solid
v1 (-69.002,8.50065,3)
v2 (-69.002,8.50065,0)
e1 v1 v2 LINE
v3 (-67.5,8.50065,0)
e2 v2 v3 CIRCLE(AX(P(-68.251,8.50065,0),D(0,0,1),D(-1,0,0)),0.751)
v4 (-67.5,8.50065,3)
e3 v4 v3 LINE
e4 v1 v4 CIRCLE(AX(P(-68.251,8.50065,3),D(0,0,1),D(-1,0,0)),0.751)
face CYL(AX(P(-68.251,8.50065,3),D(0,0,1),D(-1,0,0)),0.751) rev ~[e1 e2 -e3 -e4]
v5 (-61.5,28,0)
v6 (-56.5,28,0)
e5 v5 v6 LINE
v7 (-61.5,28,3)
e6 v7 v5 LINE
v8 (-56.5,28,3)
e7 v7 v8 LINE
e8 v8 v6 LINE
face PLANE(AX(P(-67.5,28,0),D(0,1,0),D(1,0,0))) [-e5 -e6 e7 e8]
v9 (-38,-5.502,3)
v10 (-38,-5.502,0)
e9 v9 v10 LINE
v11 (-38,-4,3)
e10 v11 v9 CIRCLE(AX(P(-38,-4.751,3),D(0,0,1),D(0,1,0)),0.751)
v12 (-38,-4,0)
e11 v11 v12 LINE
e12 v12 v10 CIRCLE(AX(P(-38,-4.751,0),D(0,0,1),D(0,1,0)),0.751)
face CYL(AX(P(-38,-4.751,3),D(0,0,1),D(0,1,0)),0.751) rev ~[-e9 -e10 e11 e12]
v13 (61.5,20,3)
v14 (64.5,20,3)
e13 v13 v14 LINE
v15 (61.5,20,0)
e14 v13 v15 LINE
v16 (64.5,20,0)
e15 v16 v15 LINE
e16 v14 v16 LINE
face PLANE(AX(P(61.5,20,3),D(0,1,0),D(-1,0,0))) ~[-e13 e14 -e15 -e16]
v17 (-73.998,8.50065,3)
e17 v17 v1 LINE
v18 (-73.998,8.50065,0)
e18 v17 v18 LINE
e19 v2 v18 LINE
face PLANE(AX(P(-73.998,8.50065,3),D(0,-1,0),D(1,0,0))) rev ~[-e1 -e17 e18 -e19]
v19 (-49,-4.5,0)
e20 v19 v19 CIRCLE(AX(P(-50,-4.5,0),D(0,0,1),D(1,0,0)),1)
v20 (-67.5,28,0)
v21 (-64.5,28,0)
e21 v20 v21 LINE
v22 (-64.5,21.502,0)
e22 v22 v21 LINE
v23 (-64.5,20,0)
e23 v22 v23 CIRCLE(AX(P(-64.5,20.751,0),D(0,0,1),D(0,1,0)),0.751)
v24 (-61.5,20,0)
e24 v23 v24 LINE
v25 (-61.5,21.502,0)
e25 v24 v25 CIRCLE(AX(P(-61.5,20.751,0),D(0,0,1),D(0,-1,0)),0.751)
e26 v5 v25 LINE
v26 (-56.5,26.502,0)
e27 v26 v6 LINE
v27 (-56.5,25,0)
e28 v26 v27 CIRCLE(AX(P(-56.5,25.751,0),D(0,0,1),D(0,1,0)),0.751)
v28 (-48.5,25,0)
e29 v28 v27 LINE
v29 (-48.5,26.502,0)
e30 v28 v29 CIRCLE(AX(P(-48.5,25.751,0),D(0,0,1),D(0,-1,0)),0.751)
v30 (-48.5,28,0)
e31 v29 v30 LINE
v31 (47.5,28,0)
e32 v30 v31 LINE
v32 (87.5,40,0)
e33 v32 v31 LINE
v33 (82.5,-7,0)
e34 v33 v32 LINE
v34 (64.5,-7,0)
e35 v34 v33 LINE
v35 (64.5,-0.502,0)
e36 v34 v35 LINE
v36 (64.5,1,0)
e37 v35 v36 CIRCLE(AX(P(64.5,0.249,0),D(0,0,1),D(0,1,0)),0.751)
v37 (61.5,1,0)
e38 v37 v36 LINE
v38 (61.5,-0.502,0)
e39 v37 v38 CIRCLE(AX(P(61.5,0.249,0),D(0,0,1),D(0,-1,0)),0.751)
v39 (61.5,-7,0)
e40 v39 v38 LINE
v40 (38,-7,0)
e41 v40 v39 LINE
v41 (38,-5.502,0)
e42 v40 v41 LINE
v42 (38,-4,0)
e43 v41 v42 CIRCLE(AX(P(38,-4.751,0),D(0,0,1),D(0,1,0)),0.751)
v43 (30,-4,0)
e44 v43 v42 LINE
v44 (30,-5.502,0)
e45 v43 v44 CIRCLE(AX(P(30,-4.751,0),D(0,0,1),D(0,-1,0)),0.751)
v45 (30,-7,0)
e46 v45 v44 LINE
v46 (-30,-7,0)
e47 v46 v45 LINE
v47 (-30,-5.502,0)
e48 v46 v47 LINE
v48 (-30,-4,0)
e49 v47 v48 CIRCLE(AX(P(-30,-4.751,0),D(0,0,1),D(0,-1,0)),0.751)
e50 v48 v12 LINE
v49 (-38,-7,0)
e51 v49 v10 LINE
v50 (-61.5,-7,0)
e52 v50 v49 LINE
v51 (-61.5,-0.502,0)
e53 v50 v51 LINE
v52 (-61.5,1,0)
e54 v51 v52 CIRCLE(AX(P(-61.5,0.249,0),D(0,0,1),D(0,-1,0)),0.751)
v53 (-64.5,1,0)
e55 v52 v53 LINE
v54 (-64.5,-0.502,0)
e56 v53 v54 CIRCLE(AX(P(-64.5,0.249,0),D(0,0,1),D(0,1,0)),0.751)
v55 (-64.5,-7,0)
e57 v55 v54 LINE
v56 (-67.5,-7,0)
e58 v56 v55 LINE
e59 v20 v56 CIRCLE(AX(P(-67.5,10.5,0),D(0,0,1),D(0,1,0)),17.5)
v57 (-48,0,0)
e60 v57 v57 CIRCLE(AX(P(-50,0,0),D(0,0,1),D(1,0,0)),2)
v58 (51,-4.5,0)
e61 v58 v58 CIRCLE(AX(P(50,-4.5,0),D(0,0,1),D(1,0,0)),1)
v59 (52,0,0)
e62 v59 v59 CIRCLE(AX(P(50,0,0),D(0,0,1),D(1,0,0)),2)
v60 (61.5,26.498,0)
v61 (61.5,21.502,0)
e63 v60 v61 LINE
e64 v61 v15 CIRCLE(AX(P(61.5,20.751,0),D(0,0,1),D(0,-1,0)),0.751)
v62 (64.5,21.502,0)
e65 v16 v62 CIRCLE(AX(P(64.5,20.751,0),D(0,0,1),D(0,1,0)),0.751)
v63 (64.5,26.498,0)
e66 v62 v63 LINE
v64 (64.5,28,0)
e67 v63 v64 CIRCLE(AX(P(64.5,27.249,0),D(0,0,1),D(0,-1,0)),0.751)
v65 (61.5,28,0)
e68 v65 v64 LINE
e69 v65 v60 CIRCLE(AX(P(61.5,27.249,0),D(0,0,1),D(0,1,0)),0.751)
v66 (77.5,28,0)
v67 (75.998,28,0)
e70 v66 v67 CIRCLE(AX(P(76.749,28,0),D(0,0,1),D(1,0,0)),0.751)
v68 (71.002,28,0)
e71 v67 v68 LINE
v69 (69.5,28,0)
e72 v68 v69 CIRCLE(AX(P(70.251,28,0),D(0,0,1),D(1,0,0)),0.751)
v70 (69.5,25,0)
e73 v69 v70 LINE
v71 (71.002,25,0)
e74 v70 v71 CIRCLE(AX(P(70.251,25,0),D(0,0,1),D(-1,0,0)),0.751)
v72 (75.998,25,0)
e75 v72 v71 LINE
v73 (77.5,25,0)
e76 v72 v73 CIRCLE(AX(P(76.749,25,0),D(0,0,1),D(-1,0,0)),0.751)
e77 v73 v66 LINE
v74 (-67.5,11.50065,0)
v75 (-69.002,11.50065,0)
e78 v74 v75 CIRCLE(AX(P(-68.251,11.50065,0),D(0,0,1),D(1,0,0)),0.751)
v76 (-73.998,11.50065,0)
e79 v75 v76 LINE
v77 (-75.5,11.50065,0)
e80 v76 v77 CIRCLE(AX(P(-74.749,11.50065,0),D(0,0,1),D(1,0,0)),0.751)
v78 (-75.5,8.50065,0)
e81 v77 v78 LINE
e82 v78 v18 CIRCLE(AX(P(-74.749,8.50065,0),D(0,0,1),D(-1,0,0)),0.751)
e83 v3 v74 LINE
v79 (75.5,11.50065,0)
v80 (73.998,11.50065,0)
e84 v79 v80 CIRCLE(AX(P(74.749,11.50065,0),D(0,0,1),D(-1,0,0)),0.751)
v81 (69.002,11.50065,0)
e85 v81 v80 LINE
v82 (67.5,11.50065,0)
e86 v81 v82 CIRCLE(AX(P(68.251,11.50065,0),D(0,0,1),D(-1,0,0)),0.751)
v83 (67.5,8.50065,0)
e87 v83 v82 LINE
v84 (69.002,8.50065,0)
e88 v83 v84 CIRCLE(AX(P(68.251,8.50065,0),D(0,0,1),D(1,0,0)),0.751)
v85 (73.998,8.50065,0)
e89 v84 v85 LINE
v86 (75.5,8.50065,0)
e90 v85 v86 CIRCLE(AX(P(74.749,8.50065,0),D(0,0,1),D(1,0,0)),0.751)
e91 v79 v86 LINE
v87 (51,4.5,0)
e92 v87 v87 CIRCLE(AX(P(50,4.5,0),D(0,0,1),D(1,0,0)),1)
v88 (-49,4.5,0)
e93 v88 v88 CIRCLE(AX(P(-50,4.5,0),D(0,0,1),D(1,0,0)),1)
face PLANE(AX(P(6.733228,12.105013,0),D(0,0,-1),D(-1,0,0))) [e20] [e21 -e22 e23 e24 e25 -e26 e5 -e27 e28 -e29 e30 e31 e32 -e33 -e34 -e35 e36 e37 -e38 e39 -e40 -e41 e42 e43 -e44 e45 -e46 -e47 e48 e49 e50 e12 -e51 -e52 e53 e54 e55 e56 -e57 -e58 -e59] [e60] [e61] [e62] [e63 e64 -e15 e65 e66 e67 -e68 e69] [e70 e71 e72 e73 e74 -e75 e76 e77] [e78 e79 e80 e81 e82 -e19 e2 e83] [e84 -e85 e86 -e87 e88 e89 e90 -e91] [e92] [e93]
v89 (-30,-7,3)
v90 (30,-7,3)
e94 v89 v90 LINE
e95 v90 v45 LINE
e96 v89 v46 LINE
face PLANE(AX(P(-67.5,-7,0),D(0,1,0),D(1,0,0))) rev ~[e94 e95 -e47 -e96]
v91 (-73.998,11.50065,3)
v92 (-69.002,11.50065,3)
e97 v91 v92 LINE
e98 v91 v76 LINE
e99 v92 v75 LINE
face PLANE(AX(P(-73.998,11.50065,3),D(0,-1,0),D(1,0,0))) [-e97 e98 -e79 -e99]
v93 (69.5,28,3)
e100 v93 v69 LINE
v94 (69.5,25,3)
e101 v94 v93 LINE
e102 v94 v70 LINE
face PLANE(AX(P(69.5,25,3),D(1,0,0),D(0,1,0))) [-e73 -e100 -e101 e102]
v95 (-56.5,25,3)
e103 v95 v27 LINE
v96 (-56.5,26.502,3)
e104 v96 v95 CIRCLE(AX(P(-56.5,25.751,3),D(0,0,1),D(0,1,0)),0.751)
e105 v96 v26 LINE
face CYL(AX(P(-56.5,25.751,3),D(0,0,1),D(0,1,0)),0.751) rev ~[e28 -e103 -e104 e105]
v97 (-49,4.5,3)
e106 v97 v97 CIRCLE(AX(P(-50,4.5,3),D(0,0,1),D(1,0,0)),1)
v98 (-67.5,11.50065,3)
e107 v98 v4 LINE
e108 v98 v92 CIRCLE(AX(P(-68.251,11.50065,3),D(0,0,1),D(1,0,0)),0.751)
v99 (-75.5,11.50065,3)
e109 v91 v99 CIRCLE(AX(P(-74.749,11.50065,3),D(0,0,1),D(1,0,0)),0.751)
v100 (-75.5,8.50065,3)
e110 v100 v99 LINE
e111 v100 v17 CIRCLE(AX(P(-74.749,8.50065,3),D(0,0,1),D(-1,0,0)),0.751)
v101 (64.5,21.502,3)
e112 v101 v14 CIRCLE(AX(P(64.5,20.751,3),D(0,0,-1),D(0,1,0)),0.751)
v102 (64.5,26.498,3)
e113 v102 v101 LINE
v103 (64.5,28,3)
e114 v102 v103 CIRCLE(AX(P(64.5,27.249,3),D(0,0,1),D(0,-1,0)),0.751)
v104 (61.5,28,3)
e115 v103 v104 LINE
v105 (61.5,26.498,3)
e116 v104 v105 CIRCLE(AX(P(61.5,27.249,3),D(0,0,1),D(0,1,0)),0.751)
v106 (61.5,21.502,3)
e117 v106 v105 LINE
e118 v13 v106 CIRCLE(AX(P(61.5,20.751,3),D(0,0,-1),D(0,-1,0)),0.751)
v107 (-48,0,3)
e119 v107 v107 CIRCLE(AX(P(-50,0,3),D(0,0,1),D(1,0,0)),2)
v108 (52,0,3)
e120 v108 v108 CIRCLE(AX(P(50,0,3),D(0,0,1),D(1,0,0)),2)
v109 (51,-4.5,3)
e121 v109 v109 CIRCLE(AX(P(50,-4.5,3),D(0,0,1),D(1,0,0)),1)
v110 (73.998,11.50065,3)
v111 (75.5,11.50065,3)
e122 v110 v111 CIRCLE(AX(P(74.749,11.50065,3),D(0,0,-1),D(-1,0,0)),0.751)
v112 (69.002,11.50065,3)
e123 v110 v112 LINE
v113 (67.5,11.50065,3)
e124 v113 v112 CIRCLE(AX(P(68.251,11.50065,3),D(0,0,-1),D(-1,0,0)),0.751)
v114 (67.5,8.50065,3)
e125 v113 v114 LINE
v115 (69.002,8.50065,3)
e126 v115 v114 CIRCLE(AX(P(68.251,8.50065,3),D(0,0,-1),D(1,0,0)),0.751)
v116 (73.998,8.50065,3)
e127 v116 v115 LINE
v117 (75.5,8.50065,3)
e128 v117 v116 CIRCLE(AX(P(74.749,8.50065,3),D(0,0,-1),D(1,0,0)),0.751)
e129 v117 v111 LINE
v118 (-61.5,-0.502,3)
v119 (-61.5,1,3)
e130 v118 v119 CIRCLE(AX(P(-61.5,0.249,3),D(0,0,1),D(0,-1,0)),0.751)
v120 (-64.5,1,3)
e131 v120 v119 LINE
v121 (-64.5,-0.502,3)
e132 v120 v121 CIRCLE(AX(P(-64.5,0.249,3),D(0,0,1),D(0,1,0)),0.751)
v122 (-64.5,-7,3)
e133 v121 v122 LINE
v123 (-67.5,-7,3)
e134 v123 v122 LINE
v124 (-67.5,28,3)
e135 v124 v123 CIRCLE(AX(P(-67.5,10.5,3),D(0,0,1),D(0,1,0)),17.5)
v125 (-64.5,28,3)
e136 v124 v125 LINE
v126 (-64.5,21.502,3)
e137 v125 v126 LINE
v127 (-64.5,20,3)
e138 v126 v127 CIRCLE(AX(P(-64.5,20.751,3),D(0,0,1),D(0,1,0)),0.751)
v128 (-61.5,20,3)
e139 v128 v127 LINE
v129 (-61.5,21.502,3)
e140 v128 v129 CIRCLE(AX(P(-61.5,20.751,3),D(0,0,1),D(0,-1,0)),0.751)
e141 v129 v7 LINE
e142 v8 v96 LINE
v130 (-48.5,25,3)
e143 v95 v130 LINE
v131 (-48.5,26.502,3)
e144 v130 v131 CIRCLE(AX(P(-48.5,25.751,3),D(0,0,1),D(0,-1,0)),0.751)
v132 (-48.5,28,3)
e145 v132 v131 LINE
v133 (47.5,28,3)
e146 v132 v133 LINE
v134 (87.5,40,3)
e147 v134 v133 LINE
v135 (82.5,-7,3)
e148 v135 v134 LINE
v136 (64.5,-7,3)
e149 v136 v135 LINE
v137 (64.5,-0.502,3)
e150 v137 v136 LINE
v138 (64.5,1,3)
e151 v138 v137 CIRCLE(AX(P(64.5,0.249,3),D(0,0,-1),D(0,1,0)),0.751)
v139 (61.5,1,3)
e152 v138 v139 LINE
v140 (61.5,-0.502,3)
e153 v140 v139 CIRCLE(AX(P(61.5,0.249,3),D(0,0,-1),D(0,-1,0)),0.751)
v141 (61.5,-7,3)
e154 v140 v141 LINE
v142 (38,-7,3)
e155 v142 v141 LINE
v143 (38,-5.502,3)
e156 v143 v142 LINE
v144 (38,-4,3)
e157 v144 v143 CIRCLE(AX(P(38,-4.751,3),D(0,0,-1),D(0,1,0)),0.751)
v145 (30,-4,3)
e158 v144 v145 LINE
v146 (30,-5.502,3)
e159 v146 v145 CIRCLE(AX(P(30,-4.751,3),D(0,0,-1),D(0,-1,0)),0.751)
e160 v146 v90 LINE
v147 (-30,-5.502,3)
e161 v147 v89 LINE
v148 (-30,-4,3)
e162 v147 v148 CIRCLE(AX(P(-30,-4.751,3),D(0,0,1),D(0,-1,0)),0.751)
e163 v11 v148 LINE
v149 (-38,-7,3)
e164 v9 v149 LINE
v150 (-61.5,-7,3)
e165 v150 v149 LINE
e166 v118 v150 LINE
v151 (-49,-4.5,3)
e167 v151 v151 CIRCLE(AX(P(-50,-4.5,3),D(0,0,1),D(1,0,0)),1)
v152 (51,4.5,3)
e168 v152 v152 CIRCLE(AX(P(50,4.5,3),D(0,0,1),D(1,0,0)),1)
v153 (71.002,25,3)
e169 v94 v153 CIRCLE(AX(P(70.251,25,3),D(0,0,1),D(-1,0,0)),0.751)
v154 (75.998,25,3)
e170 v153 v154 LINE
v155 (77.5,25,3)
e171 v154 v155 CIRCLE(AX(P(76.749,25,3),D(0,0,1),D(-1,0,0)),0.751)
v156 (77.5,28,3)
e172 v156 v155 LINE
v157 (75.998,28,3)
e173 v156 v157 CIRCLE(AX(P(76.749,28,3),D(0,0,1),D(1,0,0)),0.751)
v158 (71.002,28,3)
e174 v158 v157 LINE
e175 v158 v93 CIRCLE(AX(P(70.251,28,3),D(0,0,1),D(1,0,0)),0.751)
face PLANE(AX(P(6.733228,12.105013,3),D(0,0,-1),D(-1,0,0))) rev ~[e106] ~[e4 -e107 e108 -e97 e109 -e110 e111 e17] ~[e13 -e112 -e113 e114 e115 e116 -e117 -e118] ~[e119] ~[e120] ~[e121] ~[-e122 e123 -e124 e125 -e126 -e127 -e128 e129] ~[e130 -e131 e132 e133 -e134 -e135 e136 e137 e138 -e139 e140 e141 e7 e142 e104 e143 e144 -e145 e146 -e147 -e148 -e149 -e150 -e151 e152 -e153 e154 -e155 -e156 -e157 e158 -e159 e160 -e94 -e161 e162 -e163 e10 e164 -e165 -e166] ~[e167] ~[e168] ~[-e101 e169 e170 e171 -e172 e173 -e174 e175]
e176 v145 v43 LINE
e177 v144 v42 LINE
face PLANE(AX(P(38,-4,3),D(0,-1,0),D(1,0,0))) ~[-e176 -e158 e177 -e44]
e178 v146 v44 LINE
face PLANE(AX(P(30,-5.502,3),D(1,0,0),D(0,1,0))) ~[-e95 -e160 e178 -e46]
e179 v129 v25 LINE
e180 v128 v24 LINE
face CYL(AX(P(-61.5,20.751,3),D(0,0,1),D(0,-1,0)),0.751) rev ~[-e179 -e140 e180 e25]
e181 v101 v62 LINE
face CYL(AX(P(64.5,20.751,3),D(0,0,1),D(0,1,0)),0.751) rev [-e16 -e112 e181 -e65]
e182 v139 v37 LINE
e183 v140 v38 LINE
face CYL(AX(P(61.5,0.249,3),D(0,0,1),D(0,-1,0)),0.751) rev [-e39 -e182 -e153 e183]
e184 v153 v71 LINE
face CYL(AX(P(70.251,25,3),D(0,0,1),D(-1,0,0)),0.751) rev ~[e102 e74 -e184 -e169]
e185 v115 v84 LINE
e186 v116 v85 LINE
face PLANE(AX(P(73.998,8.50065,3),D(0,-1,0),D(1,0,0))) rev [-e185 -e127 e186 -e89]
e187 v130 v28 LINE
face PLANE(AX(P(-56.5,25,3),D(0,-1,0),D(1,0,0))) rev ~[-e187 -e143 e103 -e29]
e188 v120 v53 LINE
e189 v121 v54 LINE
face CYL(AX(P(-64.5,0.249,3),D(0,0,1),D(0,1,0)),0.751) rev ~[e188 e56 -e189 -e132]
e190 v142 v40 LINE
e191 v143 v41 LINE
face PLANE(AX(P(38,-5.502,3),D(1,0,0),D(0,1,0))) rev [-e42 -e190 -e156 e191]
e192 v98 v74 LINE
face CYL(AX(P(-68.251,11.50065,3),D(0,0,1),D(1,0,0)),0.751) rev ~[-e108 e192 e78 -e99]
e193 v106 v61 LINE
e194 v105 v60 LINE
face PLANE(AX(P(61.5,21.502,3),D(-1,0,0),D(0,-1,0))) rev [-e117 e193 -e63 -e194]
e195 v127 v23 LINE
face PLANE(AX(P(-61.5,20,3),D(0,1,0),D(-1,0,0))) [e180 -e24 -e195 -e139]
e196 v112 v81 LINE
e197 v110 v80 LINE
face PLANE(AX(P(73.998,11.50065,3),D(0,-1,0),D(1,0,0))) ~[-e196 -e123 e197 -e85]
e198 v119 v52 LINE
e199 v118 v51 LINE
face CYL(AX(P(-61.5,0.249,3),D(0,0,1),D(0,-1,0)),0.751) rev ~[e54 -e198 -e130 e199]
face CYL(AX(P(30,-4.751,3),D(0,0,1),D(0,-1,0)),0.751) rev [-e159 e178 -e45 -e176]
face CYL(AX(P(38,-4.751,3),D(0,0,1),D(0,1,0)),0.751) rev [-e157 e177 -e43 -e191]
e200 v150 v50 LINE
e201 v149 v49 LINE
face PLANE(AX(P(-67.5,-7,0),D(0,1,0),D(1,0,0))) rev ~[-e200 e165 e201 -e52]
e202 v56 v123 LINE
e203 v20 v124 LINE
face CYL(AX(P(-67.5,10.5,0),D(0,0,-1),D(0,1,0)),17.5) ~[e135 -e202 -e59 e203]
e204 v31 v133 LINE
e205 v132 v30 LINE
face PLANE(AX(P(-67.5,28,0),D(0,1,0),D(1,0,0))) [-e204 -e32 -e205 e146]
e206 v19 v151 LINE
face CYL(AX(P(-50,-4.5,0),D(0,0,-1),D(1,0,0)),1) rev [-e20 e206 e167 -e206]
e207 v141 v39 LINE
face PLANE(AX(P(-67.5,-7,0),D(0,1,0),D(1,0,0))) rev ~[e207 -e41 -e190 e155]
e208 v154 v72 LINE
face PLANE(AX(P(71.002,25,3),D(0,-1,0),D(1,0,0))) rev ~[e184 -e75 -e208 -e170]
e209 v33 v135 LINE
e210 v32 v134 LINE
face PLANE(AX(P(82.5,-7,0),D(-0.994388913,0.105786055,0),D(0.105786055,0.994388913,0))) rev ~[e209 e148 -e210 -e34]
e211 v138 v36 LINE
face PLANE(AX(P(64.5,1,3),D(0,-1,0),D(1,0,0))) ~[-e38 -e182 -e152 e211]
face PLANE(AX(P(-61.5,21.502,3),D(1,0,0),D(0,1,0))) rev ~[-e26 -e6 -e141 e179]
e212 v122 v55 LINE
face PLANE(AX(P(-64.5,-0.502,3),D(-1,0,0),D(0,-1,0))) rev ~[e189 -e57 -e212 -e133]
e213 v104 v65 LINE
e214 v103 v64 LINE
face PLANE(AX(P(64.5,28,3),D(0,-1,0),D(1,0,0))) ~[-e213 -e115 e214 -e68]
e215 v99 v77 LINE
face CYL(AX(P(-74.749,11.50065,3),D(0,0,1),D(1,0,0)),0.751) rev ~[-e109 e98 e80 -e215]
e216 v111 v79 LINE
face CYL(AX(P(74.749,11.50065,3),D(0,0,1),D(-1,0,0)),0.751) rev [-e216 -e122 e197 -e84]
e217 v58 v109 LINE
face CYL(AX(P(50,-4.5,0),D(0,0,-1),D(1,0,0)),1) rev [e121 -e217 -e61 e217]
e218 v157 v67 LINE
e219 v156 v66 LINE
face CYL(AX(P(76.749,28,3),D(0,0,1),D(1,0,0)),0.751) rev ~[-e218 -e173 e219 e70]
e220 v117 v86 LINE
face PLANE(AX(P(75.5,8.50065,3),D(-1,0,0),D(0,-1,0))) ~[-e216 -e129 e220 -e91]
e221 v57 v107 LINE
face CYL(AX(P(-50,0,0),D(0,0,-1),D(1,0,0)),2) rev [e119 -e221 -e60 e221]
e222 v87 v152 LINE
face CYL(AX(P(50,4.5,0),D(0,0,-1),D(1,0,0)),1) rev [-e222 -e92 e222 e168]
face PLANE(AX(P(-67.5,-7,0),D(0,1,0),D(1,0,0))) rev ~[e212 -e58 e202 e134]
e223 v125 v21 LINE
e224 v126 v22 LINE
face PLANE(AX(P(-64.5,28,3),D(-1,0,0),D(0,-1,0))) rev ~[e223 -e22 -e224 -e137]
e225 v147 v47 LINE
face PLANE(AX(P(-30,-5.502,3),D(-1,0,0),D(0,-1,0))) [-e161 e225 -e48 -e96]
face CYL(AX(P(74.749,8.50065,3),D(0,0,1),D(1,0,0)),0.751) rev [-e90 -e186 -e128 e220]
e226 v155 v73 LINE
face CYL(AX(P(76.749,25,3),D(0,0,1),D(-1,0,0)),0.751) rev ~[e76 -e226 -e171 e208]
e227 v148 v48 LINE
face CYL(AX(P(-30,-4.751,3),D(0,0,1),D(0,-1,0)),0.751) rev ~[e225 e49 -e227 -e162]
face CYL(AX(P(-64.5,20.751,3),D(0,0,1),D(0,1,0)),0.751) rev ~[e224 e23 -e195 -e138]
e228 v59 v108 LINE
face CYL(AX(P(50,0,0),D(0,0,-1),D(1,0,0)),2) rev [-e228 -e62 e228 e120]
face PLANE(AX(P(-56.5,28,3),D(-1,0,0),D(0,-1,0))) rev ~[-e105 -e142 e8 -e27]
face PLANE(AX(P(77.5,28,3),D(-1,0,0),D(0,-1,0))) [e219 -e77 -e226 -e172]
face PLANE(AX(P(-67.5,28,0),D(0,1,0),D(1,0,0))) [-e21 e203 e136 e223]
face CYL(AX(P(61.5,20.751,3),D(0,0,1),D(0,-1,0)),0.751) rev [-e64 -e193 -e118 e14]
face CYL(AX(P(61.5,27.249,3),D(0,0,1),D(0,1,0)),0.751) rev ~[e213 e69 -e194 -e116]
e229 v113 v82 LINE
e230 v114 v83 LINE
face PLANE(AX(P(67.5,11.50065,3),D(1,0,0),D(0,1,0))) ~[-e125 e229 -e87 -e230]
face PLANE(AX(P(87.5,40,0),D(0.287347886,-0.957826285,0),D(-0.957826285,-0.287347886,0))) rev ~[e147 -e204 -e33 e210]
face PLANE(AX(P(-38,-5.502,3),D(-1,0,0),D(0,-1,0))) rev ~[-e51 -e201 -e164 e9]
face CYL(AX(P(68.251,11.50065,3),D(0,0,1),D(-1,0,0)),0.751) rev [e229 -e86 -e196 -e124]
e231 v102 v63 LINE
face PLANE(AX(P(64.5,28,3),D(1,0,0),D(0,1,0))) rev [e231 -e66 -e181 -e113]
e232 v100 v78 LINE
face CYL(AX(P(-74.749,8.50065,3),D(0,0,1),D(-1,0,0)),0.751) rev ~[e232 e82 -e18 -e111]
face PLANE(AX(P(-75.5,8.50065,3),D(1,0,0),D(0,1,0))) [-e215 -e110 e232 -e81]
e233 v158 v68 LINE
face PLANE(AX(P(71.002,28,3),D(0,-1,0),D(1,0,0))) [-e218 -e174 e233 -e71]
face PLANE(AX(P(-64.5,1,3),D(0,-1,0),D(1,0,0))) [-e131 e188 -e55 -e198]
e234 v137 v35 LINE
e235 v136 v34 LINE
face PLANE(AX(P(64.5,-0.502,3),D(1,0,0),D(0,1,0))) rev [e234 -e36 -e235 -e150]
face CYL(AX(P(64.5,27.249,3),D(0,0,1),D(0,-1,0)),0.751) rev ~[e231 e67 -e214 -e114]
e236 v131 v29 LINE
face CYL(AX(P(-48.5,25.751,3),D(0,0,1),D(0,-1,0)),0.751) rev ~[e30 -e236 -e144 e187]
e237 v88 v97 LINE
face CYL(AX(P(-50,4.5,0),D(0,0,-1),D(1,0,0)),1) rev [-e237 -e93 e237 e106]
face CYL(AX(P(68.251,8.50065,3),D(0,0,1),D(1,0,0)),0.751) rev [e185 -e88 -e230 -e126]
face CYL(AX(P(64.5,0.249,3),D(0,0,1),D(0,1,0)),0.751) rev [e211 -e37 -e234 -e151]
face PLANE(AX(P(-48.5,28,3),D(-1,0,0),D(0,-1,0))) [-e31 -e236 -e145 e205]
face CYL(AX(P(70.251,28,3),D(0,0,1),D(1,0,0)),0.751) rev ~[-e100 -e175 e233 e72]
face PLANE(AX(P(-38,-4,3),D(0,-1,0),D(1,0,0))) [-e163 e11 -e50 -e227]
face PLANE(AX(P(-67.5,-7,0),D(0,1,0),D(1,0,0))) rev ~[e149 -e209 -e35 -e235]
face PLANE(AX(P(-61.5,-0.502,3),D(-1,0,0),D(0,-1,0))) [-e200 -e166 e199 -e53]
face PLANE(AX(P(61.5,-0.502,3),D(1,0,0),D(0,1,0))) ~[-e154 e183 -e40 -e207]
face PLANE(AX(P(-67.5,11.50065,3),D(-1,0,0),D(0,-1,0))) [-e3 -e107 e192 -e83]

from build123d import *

# Parameters (mm, degrees)
SKETCH_R        = 1
SKETCH_R_2      = 2
PAD_DEPTH       = 3
POCKET_DEPTH    = 360.627901
POCKET001_DEPTH = 3.001
POCKET002_DEPTH = 360.627901
POCKET005_DEPTH = 3.001


with BuildPart() as part:
    # Sketch → Pad (new body)
    with BuildSketch(Plane.XY):
        with BuildLine():
            Line((-67.5, 28), (47.5, 28))
            Line((87.5, 40), (47.5, 28))
            Line((82.5, -7), (87.5, 40))
            Line((67.5, -7), (82.5, -7))
            Line((67.5, -7), (-67.5, -7))
            ThreePointArc((-67.5, 28), (-85, 10.5), (-67.5, -7))
        make_face()
        with Locations((-50, 4.5)):
            Circle(SKETCH_R, mode=Mode.SUBTRACT)
        with Locations((-50, -4.5)):
            Circle(SKETCH_R, mode=Mode.SUBTRACT)
        with Locations((-50, 0)):
            Circle(SKETCH_R_2, mode=Mode.SUBTRACT)
        with Locations((50, 0)):
            Circle(SKETCH_R_2, mode=Mode.SUBTRACT)
        with Locations((50, 4.5)):
            Circle(SKETCH_R, mode=Mode.SUBTRACT)
        with Locations((50, -4.5)):
            Circle(SKETCH_R, mode=Mode.SUBTRACT)
    extrude(amount=PAD_DEPTH)

    # Sketch001 → Pocket (cut, through all)
    with BuildSketch(Plane.XY.offset(3)):
        with BuildLine():
            Line((-67.5, 11.50065), (-67.5, 8.50065))
            ThreePointArc((-69.002, 8.50065), (-68.251, 7.74965), (-67.5, 8.50065))
            Line((-73.998, 8.50065), (-69.002, 8.50065))
            ThreePointArc((-75.5, 8.50065), (-74.749, 7.74965), (-73.998, 8.50065))
            Line((-75.5, 8.50065), (-75.5, 11.50065))
            ThreePointArc((-73.998, 11.50065), (-74.749, 12.25165), (-75.5, 11.50065))
            Line((-73.998, 11.50065), (-69.002, 11.50065))
            ThreePointArc((-67.5, 11.50065), (-68.251, 12.25165), (-69.002, 11.50065))
        make_face()
        with BuildLine():
            Line((-64.5, 1), (-61.5, 1))
            ThreePointArc((-61.5, -0.502), (-60.749, 0.249), (-61.5, 1))
            Line((-61.5, -0.502), (-61.5, -7))
            Line((-61.5, -7), (-64.5, -7))
            Line((-64.5, -0.502), (-64.5, -7))
            ThreePointArc((-64.5, 1), (-65.251, 0.249), (-64.5, -0.502))
        make_face()
        with BuildLine():
            Line((-64.5, 28), (-61.5, 28))
            Line((-61.5, 21.502), (-61.5, 28))
            ThreePointArc((-61.5, 20), (-60.749, 20.751), (-61.5, 21.502))
            Line((-61.5, 20), (-64.5, 20))
            ThreePointArc((-64.5, 21.502), (-65.251, 20.751), (-64.5, 20))
            Line((-64.5, 28), (-64.5, 21.502))
        make_face()
    pocket = extrude(amount=-POCKET_DEPTH, mode=Mode.SUBTRACT)

    # Mirrored: Pocket across Sketch001 V_Axis
    add(pocket.mirror(Plane(origin=(0, 0, 3), x_dir=(0, 0, 1), z_dir=(1, 0, 0))), mode=Mode.SUBTRACT)

    # Sketch002 → Pocket001 (cut, through all)
    with BuildSketch(Plane.XY.offset(3)):
        with BuildLine():
            ThreePointArc((61.5, 28), (60.749, 27.249), (61.5, 26.498))
            Line((61.5, 26.498), (64.5, 26.498))
            ThreePointArc((64.5, 26.498), (65.251, 27.249), (64.5, 28))
            Line((61.5, 28), (64.5, 28))
        make_face()
    extrude(amount=-POCKET001_DEPTH, mode=Mode.SUBTRACT)

    # Sketch003 → Pocket002 (cut, through all)
    with BuildSketch(Plane.XY.offset(3)):
        with BuildLine():
            Line((-38, -4), (-30, -4))
            ThreePointArc((-30, -5.502), (-29.249, -4.751), (-30, -4))
            Line((-30, -5.502), (-30, -7))
            Line((-30, -7), (-38, -7))
            Line((-38, -5.502), (-38, -7))
            ThreePointArc((-38, -4), (-38.751, -4.751), (-38, -5.502))
        make_face()
    pocket002 = extrude(amount=-POCKET002_DEPTH, mode=Mode.SUBTRACT)

    # Mirrored001: Pocket002 across Sketch003 V_Axis
    add(pocket002.mirror(Plane(origin=(0, 0, 3), x_dir=(0, 0, 1), z_dir=(1, 0, 0))), mode=Mode.SUBTRACT)

    # Sketch008 → Pocket005 (cut, through all)
    with BuildSketch(Plane.XY.offset(3)):
        with BuildLine():
            Line((-48.5, 28), (-56.5, 28))
            Line((-56.5, 28), (-56.5, 26.502))
            ThreePointArc((-56.5, 26.502), (-57.251, 25.751), (-56.5, 25))
            Line((-56.5, 25), (-48.5, 25))
            ThreePointArc((-48.5, 25), (-47.749, 25.751), (-48.5, 26.502))
            Line((-48.5, 28), (-48.5, 26.502))
        make_face()
        with BuildLine():
            Line((77.5, 28), (77.5, 25))
            ThreePointArc((75.998, 25), (76.749, 24.249), (77.5, 25))
            Line((71.002, 25), (75.998, 25))
            ThreePointArc((69.5, 25), (70.251, 24.249), (71.002, 25))
            Line((69.5, 25), (69.5, 28))
            ThreePointArc((71.002, 28), (70.251, 28.751), (69.5, 28))
            Line((71.002, 28), (75.998, 28))
            ThreePointArc((77.5, 28), (76.749, 28.751), (75.998, 28))
        make_face()
    extrude(amount=-POCKET005_DEPTH, mode=Mode.SUBTRACT)


solid = part.part
